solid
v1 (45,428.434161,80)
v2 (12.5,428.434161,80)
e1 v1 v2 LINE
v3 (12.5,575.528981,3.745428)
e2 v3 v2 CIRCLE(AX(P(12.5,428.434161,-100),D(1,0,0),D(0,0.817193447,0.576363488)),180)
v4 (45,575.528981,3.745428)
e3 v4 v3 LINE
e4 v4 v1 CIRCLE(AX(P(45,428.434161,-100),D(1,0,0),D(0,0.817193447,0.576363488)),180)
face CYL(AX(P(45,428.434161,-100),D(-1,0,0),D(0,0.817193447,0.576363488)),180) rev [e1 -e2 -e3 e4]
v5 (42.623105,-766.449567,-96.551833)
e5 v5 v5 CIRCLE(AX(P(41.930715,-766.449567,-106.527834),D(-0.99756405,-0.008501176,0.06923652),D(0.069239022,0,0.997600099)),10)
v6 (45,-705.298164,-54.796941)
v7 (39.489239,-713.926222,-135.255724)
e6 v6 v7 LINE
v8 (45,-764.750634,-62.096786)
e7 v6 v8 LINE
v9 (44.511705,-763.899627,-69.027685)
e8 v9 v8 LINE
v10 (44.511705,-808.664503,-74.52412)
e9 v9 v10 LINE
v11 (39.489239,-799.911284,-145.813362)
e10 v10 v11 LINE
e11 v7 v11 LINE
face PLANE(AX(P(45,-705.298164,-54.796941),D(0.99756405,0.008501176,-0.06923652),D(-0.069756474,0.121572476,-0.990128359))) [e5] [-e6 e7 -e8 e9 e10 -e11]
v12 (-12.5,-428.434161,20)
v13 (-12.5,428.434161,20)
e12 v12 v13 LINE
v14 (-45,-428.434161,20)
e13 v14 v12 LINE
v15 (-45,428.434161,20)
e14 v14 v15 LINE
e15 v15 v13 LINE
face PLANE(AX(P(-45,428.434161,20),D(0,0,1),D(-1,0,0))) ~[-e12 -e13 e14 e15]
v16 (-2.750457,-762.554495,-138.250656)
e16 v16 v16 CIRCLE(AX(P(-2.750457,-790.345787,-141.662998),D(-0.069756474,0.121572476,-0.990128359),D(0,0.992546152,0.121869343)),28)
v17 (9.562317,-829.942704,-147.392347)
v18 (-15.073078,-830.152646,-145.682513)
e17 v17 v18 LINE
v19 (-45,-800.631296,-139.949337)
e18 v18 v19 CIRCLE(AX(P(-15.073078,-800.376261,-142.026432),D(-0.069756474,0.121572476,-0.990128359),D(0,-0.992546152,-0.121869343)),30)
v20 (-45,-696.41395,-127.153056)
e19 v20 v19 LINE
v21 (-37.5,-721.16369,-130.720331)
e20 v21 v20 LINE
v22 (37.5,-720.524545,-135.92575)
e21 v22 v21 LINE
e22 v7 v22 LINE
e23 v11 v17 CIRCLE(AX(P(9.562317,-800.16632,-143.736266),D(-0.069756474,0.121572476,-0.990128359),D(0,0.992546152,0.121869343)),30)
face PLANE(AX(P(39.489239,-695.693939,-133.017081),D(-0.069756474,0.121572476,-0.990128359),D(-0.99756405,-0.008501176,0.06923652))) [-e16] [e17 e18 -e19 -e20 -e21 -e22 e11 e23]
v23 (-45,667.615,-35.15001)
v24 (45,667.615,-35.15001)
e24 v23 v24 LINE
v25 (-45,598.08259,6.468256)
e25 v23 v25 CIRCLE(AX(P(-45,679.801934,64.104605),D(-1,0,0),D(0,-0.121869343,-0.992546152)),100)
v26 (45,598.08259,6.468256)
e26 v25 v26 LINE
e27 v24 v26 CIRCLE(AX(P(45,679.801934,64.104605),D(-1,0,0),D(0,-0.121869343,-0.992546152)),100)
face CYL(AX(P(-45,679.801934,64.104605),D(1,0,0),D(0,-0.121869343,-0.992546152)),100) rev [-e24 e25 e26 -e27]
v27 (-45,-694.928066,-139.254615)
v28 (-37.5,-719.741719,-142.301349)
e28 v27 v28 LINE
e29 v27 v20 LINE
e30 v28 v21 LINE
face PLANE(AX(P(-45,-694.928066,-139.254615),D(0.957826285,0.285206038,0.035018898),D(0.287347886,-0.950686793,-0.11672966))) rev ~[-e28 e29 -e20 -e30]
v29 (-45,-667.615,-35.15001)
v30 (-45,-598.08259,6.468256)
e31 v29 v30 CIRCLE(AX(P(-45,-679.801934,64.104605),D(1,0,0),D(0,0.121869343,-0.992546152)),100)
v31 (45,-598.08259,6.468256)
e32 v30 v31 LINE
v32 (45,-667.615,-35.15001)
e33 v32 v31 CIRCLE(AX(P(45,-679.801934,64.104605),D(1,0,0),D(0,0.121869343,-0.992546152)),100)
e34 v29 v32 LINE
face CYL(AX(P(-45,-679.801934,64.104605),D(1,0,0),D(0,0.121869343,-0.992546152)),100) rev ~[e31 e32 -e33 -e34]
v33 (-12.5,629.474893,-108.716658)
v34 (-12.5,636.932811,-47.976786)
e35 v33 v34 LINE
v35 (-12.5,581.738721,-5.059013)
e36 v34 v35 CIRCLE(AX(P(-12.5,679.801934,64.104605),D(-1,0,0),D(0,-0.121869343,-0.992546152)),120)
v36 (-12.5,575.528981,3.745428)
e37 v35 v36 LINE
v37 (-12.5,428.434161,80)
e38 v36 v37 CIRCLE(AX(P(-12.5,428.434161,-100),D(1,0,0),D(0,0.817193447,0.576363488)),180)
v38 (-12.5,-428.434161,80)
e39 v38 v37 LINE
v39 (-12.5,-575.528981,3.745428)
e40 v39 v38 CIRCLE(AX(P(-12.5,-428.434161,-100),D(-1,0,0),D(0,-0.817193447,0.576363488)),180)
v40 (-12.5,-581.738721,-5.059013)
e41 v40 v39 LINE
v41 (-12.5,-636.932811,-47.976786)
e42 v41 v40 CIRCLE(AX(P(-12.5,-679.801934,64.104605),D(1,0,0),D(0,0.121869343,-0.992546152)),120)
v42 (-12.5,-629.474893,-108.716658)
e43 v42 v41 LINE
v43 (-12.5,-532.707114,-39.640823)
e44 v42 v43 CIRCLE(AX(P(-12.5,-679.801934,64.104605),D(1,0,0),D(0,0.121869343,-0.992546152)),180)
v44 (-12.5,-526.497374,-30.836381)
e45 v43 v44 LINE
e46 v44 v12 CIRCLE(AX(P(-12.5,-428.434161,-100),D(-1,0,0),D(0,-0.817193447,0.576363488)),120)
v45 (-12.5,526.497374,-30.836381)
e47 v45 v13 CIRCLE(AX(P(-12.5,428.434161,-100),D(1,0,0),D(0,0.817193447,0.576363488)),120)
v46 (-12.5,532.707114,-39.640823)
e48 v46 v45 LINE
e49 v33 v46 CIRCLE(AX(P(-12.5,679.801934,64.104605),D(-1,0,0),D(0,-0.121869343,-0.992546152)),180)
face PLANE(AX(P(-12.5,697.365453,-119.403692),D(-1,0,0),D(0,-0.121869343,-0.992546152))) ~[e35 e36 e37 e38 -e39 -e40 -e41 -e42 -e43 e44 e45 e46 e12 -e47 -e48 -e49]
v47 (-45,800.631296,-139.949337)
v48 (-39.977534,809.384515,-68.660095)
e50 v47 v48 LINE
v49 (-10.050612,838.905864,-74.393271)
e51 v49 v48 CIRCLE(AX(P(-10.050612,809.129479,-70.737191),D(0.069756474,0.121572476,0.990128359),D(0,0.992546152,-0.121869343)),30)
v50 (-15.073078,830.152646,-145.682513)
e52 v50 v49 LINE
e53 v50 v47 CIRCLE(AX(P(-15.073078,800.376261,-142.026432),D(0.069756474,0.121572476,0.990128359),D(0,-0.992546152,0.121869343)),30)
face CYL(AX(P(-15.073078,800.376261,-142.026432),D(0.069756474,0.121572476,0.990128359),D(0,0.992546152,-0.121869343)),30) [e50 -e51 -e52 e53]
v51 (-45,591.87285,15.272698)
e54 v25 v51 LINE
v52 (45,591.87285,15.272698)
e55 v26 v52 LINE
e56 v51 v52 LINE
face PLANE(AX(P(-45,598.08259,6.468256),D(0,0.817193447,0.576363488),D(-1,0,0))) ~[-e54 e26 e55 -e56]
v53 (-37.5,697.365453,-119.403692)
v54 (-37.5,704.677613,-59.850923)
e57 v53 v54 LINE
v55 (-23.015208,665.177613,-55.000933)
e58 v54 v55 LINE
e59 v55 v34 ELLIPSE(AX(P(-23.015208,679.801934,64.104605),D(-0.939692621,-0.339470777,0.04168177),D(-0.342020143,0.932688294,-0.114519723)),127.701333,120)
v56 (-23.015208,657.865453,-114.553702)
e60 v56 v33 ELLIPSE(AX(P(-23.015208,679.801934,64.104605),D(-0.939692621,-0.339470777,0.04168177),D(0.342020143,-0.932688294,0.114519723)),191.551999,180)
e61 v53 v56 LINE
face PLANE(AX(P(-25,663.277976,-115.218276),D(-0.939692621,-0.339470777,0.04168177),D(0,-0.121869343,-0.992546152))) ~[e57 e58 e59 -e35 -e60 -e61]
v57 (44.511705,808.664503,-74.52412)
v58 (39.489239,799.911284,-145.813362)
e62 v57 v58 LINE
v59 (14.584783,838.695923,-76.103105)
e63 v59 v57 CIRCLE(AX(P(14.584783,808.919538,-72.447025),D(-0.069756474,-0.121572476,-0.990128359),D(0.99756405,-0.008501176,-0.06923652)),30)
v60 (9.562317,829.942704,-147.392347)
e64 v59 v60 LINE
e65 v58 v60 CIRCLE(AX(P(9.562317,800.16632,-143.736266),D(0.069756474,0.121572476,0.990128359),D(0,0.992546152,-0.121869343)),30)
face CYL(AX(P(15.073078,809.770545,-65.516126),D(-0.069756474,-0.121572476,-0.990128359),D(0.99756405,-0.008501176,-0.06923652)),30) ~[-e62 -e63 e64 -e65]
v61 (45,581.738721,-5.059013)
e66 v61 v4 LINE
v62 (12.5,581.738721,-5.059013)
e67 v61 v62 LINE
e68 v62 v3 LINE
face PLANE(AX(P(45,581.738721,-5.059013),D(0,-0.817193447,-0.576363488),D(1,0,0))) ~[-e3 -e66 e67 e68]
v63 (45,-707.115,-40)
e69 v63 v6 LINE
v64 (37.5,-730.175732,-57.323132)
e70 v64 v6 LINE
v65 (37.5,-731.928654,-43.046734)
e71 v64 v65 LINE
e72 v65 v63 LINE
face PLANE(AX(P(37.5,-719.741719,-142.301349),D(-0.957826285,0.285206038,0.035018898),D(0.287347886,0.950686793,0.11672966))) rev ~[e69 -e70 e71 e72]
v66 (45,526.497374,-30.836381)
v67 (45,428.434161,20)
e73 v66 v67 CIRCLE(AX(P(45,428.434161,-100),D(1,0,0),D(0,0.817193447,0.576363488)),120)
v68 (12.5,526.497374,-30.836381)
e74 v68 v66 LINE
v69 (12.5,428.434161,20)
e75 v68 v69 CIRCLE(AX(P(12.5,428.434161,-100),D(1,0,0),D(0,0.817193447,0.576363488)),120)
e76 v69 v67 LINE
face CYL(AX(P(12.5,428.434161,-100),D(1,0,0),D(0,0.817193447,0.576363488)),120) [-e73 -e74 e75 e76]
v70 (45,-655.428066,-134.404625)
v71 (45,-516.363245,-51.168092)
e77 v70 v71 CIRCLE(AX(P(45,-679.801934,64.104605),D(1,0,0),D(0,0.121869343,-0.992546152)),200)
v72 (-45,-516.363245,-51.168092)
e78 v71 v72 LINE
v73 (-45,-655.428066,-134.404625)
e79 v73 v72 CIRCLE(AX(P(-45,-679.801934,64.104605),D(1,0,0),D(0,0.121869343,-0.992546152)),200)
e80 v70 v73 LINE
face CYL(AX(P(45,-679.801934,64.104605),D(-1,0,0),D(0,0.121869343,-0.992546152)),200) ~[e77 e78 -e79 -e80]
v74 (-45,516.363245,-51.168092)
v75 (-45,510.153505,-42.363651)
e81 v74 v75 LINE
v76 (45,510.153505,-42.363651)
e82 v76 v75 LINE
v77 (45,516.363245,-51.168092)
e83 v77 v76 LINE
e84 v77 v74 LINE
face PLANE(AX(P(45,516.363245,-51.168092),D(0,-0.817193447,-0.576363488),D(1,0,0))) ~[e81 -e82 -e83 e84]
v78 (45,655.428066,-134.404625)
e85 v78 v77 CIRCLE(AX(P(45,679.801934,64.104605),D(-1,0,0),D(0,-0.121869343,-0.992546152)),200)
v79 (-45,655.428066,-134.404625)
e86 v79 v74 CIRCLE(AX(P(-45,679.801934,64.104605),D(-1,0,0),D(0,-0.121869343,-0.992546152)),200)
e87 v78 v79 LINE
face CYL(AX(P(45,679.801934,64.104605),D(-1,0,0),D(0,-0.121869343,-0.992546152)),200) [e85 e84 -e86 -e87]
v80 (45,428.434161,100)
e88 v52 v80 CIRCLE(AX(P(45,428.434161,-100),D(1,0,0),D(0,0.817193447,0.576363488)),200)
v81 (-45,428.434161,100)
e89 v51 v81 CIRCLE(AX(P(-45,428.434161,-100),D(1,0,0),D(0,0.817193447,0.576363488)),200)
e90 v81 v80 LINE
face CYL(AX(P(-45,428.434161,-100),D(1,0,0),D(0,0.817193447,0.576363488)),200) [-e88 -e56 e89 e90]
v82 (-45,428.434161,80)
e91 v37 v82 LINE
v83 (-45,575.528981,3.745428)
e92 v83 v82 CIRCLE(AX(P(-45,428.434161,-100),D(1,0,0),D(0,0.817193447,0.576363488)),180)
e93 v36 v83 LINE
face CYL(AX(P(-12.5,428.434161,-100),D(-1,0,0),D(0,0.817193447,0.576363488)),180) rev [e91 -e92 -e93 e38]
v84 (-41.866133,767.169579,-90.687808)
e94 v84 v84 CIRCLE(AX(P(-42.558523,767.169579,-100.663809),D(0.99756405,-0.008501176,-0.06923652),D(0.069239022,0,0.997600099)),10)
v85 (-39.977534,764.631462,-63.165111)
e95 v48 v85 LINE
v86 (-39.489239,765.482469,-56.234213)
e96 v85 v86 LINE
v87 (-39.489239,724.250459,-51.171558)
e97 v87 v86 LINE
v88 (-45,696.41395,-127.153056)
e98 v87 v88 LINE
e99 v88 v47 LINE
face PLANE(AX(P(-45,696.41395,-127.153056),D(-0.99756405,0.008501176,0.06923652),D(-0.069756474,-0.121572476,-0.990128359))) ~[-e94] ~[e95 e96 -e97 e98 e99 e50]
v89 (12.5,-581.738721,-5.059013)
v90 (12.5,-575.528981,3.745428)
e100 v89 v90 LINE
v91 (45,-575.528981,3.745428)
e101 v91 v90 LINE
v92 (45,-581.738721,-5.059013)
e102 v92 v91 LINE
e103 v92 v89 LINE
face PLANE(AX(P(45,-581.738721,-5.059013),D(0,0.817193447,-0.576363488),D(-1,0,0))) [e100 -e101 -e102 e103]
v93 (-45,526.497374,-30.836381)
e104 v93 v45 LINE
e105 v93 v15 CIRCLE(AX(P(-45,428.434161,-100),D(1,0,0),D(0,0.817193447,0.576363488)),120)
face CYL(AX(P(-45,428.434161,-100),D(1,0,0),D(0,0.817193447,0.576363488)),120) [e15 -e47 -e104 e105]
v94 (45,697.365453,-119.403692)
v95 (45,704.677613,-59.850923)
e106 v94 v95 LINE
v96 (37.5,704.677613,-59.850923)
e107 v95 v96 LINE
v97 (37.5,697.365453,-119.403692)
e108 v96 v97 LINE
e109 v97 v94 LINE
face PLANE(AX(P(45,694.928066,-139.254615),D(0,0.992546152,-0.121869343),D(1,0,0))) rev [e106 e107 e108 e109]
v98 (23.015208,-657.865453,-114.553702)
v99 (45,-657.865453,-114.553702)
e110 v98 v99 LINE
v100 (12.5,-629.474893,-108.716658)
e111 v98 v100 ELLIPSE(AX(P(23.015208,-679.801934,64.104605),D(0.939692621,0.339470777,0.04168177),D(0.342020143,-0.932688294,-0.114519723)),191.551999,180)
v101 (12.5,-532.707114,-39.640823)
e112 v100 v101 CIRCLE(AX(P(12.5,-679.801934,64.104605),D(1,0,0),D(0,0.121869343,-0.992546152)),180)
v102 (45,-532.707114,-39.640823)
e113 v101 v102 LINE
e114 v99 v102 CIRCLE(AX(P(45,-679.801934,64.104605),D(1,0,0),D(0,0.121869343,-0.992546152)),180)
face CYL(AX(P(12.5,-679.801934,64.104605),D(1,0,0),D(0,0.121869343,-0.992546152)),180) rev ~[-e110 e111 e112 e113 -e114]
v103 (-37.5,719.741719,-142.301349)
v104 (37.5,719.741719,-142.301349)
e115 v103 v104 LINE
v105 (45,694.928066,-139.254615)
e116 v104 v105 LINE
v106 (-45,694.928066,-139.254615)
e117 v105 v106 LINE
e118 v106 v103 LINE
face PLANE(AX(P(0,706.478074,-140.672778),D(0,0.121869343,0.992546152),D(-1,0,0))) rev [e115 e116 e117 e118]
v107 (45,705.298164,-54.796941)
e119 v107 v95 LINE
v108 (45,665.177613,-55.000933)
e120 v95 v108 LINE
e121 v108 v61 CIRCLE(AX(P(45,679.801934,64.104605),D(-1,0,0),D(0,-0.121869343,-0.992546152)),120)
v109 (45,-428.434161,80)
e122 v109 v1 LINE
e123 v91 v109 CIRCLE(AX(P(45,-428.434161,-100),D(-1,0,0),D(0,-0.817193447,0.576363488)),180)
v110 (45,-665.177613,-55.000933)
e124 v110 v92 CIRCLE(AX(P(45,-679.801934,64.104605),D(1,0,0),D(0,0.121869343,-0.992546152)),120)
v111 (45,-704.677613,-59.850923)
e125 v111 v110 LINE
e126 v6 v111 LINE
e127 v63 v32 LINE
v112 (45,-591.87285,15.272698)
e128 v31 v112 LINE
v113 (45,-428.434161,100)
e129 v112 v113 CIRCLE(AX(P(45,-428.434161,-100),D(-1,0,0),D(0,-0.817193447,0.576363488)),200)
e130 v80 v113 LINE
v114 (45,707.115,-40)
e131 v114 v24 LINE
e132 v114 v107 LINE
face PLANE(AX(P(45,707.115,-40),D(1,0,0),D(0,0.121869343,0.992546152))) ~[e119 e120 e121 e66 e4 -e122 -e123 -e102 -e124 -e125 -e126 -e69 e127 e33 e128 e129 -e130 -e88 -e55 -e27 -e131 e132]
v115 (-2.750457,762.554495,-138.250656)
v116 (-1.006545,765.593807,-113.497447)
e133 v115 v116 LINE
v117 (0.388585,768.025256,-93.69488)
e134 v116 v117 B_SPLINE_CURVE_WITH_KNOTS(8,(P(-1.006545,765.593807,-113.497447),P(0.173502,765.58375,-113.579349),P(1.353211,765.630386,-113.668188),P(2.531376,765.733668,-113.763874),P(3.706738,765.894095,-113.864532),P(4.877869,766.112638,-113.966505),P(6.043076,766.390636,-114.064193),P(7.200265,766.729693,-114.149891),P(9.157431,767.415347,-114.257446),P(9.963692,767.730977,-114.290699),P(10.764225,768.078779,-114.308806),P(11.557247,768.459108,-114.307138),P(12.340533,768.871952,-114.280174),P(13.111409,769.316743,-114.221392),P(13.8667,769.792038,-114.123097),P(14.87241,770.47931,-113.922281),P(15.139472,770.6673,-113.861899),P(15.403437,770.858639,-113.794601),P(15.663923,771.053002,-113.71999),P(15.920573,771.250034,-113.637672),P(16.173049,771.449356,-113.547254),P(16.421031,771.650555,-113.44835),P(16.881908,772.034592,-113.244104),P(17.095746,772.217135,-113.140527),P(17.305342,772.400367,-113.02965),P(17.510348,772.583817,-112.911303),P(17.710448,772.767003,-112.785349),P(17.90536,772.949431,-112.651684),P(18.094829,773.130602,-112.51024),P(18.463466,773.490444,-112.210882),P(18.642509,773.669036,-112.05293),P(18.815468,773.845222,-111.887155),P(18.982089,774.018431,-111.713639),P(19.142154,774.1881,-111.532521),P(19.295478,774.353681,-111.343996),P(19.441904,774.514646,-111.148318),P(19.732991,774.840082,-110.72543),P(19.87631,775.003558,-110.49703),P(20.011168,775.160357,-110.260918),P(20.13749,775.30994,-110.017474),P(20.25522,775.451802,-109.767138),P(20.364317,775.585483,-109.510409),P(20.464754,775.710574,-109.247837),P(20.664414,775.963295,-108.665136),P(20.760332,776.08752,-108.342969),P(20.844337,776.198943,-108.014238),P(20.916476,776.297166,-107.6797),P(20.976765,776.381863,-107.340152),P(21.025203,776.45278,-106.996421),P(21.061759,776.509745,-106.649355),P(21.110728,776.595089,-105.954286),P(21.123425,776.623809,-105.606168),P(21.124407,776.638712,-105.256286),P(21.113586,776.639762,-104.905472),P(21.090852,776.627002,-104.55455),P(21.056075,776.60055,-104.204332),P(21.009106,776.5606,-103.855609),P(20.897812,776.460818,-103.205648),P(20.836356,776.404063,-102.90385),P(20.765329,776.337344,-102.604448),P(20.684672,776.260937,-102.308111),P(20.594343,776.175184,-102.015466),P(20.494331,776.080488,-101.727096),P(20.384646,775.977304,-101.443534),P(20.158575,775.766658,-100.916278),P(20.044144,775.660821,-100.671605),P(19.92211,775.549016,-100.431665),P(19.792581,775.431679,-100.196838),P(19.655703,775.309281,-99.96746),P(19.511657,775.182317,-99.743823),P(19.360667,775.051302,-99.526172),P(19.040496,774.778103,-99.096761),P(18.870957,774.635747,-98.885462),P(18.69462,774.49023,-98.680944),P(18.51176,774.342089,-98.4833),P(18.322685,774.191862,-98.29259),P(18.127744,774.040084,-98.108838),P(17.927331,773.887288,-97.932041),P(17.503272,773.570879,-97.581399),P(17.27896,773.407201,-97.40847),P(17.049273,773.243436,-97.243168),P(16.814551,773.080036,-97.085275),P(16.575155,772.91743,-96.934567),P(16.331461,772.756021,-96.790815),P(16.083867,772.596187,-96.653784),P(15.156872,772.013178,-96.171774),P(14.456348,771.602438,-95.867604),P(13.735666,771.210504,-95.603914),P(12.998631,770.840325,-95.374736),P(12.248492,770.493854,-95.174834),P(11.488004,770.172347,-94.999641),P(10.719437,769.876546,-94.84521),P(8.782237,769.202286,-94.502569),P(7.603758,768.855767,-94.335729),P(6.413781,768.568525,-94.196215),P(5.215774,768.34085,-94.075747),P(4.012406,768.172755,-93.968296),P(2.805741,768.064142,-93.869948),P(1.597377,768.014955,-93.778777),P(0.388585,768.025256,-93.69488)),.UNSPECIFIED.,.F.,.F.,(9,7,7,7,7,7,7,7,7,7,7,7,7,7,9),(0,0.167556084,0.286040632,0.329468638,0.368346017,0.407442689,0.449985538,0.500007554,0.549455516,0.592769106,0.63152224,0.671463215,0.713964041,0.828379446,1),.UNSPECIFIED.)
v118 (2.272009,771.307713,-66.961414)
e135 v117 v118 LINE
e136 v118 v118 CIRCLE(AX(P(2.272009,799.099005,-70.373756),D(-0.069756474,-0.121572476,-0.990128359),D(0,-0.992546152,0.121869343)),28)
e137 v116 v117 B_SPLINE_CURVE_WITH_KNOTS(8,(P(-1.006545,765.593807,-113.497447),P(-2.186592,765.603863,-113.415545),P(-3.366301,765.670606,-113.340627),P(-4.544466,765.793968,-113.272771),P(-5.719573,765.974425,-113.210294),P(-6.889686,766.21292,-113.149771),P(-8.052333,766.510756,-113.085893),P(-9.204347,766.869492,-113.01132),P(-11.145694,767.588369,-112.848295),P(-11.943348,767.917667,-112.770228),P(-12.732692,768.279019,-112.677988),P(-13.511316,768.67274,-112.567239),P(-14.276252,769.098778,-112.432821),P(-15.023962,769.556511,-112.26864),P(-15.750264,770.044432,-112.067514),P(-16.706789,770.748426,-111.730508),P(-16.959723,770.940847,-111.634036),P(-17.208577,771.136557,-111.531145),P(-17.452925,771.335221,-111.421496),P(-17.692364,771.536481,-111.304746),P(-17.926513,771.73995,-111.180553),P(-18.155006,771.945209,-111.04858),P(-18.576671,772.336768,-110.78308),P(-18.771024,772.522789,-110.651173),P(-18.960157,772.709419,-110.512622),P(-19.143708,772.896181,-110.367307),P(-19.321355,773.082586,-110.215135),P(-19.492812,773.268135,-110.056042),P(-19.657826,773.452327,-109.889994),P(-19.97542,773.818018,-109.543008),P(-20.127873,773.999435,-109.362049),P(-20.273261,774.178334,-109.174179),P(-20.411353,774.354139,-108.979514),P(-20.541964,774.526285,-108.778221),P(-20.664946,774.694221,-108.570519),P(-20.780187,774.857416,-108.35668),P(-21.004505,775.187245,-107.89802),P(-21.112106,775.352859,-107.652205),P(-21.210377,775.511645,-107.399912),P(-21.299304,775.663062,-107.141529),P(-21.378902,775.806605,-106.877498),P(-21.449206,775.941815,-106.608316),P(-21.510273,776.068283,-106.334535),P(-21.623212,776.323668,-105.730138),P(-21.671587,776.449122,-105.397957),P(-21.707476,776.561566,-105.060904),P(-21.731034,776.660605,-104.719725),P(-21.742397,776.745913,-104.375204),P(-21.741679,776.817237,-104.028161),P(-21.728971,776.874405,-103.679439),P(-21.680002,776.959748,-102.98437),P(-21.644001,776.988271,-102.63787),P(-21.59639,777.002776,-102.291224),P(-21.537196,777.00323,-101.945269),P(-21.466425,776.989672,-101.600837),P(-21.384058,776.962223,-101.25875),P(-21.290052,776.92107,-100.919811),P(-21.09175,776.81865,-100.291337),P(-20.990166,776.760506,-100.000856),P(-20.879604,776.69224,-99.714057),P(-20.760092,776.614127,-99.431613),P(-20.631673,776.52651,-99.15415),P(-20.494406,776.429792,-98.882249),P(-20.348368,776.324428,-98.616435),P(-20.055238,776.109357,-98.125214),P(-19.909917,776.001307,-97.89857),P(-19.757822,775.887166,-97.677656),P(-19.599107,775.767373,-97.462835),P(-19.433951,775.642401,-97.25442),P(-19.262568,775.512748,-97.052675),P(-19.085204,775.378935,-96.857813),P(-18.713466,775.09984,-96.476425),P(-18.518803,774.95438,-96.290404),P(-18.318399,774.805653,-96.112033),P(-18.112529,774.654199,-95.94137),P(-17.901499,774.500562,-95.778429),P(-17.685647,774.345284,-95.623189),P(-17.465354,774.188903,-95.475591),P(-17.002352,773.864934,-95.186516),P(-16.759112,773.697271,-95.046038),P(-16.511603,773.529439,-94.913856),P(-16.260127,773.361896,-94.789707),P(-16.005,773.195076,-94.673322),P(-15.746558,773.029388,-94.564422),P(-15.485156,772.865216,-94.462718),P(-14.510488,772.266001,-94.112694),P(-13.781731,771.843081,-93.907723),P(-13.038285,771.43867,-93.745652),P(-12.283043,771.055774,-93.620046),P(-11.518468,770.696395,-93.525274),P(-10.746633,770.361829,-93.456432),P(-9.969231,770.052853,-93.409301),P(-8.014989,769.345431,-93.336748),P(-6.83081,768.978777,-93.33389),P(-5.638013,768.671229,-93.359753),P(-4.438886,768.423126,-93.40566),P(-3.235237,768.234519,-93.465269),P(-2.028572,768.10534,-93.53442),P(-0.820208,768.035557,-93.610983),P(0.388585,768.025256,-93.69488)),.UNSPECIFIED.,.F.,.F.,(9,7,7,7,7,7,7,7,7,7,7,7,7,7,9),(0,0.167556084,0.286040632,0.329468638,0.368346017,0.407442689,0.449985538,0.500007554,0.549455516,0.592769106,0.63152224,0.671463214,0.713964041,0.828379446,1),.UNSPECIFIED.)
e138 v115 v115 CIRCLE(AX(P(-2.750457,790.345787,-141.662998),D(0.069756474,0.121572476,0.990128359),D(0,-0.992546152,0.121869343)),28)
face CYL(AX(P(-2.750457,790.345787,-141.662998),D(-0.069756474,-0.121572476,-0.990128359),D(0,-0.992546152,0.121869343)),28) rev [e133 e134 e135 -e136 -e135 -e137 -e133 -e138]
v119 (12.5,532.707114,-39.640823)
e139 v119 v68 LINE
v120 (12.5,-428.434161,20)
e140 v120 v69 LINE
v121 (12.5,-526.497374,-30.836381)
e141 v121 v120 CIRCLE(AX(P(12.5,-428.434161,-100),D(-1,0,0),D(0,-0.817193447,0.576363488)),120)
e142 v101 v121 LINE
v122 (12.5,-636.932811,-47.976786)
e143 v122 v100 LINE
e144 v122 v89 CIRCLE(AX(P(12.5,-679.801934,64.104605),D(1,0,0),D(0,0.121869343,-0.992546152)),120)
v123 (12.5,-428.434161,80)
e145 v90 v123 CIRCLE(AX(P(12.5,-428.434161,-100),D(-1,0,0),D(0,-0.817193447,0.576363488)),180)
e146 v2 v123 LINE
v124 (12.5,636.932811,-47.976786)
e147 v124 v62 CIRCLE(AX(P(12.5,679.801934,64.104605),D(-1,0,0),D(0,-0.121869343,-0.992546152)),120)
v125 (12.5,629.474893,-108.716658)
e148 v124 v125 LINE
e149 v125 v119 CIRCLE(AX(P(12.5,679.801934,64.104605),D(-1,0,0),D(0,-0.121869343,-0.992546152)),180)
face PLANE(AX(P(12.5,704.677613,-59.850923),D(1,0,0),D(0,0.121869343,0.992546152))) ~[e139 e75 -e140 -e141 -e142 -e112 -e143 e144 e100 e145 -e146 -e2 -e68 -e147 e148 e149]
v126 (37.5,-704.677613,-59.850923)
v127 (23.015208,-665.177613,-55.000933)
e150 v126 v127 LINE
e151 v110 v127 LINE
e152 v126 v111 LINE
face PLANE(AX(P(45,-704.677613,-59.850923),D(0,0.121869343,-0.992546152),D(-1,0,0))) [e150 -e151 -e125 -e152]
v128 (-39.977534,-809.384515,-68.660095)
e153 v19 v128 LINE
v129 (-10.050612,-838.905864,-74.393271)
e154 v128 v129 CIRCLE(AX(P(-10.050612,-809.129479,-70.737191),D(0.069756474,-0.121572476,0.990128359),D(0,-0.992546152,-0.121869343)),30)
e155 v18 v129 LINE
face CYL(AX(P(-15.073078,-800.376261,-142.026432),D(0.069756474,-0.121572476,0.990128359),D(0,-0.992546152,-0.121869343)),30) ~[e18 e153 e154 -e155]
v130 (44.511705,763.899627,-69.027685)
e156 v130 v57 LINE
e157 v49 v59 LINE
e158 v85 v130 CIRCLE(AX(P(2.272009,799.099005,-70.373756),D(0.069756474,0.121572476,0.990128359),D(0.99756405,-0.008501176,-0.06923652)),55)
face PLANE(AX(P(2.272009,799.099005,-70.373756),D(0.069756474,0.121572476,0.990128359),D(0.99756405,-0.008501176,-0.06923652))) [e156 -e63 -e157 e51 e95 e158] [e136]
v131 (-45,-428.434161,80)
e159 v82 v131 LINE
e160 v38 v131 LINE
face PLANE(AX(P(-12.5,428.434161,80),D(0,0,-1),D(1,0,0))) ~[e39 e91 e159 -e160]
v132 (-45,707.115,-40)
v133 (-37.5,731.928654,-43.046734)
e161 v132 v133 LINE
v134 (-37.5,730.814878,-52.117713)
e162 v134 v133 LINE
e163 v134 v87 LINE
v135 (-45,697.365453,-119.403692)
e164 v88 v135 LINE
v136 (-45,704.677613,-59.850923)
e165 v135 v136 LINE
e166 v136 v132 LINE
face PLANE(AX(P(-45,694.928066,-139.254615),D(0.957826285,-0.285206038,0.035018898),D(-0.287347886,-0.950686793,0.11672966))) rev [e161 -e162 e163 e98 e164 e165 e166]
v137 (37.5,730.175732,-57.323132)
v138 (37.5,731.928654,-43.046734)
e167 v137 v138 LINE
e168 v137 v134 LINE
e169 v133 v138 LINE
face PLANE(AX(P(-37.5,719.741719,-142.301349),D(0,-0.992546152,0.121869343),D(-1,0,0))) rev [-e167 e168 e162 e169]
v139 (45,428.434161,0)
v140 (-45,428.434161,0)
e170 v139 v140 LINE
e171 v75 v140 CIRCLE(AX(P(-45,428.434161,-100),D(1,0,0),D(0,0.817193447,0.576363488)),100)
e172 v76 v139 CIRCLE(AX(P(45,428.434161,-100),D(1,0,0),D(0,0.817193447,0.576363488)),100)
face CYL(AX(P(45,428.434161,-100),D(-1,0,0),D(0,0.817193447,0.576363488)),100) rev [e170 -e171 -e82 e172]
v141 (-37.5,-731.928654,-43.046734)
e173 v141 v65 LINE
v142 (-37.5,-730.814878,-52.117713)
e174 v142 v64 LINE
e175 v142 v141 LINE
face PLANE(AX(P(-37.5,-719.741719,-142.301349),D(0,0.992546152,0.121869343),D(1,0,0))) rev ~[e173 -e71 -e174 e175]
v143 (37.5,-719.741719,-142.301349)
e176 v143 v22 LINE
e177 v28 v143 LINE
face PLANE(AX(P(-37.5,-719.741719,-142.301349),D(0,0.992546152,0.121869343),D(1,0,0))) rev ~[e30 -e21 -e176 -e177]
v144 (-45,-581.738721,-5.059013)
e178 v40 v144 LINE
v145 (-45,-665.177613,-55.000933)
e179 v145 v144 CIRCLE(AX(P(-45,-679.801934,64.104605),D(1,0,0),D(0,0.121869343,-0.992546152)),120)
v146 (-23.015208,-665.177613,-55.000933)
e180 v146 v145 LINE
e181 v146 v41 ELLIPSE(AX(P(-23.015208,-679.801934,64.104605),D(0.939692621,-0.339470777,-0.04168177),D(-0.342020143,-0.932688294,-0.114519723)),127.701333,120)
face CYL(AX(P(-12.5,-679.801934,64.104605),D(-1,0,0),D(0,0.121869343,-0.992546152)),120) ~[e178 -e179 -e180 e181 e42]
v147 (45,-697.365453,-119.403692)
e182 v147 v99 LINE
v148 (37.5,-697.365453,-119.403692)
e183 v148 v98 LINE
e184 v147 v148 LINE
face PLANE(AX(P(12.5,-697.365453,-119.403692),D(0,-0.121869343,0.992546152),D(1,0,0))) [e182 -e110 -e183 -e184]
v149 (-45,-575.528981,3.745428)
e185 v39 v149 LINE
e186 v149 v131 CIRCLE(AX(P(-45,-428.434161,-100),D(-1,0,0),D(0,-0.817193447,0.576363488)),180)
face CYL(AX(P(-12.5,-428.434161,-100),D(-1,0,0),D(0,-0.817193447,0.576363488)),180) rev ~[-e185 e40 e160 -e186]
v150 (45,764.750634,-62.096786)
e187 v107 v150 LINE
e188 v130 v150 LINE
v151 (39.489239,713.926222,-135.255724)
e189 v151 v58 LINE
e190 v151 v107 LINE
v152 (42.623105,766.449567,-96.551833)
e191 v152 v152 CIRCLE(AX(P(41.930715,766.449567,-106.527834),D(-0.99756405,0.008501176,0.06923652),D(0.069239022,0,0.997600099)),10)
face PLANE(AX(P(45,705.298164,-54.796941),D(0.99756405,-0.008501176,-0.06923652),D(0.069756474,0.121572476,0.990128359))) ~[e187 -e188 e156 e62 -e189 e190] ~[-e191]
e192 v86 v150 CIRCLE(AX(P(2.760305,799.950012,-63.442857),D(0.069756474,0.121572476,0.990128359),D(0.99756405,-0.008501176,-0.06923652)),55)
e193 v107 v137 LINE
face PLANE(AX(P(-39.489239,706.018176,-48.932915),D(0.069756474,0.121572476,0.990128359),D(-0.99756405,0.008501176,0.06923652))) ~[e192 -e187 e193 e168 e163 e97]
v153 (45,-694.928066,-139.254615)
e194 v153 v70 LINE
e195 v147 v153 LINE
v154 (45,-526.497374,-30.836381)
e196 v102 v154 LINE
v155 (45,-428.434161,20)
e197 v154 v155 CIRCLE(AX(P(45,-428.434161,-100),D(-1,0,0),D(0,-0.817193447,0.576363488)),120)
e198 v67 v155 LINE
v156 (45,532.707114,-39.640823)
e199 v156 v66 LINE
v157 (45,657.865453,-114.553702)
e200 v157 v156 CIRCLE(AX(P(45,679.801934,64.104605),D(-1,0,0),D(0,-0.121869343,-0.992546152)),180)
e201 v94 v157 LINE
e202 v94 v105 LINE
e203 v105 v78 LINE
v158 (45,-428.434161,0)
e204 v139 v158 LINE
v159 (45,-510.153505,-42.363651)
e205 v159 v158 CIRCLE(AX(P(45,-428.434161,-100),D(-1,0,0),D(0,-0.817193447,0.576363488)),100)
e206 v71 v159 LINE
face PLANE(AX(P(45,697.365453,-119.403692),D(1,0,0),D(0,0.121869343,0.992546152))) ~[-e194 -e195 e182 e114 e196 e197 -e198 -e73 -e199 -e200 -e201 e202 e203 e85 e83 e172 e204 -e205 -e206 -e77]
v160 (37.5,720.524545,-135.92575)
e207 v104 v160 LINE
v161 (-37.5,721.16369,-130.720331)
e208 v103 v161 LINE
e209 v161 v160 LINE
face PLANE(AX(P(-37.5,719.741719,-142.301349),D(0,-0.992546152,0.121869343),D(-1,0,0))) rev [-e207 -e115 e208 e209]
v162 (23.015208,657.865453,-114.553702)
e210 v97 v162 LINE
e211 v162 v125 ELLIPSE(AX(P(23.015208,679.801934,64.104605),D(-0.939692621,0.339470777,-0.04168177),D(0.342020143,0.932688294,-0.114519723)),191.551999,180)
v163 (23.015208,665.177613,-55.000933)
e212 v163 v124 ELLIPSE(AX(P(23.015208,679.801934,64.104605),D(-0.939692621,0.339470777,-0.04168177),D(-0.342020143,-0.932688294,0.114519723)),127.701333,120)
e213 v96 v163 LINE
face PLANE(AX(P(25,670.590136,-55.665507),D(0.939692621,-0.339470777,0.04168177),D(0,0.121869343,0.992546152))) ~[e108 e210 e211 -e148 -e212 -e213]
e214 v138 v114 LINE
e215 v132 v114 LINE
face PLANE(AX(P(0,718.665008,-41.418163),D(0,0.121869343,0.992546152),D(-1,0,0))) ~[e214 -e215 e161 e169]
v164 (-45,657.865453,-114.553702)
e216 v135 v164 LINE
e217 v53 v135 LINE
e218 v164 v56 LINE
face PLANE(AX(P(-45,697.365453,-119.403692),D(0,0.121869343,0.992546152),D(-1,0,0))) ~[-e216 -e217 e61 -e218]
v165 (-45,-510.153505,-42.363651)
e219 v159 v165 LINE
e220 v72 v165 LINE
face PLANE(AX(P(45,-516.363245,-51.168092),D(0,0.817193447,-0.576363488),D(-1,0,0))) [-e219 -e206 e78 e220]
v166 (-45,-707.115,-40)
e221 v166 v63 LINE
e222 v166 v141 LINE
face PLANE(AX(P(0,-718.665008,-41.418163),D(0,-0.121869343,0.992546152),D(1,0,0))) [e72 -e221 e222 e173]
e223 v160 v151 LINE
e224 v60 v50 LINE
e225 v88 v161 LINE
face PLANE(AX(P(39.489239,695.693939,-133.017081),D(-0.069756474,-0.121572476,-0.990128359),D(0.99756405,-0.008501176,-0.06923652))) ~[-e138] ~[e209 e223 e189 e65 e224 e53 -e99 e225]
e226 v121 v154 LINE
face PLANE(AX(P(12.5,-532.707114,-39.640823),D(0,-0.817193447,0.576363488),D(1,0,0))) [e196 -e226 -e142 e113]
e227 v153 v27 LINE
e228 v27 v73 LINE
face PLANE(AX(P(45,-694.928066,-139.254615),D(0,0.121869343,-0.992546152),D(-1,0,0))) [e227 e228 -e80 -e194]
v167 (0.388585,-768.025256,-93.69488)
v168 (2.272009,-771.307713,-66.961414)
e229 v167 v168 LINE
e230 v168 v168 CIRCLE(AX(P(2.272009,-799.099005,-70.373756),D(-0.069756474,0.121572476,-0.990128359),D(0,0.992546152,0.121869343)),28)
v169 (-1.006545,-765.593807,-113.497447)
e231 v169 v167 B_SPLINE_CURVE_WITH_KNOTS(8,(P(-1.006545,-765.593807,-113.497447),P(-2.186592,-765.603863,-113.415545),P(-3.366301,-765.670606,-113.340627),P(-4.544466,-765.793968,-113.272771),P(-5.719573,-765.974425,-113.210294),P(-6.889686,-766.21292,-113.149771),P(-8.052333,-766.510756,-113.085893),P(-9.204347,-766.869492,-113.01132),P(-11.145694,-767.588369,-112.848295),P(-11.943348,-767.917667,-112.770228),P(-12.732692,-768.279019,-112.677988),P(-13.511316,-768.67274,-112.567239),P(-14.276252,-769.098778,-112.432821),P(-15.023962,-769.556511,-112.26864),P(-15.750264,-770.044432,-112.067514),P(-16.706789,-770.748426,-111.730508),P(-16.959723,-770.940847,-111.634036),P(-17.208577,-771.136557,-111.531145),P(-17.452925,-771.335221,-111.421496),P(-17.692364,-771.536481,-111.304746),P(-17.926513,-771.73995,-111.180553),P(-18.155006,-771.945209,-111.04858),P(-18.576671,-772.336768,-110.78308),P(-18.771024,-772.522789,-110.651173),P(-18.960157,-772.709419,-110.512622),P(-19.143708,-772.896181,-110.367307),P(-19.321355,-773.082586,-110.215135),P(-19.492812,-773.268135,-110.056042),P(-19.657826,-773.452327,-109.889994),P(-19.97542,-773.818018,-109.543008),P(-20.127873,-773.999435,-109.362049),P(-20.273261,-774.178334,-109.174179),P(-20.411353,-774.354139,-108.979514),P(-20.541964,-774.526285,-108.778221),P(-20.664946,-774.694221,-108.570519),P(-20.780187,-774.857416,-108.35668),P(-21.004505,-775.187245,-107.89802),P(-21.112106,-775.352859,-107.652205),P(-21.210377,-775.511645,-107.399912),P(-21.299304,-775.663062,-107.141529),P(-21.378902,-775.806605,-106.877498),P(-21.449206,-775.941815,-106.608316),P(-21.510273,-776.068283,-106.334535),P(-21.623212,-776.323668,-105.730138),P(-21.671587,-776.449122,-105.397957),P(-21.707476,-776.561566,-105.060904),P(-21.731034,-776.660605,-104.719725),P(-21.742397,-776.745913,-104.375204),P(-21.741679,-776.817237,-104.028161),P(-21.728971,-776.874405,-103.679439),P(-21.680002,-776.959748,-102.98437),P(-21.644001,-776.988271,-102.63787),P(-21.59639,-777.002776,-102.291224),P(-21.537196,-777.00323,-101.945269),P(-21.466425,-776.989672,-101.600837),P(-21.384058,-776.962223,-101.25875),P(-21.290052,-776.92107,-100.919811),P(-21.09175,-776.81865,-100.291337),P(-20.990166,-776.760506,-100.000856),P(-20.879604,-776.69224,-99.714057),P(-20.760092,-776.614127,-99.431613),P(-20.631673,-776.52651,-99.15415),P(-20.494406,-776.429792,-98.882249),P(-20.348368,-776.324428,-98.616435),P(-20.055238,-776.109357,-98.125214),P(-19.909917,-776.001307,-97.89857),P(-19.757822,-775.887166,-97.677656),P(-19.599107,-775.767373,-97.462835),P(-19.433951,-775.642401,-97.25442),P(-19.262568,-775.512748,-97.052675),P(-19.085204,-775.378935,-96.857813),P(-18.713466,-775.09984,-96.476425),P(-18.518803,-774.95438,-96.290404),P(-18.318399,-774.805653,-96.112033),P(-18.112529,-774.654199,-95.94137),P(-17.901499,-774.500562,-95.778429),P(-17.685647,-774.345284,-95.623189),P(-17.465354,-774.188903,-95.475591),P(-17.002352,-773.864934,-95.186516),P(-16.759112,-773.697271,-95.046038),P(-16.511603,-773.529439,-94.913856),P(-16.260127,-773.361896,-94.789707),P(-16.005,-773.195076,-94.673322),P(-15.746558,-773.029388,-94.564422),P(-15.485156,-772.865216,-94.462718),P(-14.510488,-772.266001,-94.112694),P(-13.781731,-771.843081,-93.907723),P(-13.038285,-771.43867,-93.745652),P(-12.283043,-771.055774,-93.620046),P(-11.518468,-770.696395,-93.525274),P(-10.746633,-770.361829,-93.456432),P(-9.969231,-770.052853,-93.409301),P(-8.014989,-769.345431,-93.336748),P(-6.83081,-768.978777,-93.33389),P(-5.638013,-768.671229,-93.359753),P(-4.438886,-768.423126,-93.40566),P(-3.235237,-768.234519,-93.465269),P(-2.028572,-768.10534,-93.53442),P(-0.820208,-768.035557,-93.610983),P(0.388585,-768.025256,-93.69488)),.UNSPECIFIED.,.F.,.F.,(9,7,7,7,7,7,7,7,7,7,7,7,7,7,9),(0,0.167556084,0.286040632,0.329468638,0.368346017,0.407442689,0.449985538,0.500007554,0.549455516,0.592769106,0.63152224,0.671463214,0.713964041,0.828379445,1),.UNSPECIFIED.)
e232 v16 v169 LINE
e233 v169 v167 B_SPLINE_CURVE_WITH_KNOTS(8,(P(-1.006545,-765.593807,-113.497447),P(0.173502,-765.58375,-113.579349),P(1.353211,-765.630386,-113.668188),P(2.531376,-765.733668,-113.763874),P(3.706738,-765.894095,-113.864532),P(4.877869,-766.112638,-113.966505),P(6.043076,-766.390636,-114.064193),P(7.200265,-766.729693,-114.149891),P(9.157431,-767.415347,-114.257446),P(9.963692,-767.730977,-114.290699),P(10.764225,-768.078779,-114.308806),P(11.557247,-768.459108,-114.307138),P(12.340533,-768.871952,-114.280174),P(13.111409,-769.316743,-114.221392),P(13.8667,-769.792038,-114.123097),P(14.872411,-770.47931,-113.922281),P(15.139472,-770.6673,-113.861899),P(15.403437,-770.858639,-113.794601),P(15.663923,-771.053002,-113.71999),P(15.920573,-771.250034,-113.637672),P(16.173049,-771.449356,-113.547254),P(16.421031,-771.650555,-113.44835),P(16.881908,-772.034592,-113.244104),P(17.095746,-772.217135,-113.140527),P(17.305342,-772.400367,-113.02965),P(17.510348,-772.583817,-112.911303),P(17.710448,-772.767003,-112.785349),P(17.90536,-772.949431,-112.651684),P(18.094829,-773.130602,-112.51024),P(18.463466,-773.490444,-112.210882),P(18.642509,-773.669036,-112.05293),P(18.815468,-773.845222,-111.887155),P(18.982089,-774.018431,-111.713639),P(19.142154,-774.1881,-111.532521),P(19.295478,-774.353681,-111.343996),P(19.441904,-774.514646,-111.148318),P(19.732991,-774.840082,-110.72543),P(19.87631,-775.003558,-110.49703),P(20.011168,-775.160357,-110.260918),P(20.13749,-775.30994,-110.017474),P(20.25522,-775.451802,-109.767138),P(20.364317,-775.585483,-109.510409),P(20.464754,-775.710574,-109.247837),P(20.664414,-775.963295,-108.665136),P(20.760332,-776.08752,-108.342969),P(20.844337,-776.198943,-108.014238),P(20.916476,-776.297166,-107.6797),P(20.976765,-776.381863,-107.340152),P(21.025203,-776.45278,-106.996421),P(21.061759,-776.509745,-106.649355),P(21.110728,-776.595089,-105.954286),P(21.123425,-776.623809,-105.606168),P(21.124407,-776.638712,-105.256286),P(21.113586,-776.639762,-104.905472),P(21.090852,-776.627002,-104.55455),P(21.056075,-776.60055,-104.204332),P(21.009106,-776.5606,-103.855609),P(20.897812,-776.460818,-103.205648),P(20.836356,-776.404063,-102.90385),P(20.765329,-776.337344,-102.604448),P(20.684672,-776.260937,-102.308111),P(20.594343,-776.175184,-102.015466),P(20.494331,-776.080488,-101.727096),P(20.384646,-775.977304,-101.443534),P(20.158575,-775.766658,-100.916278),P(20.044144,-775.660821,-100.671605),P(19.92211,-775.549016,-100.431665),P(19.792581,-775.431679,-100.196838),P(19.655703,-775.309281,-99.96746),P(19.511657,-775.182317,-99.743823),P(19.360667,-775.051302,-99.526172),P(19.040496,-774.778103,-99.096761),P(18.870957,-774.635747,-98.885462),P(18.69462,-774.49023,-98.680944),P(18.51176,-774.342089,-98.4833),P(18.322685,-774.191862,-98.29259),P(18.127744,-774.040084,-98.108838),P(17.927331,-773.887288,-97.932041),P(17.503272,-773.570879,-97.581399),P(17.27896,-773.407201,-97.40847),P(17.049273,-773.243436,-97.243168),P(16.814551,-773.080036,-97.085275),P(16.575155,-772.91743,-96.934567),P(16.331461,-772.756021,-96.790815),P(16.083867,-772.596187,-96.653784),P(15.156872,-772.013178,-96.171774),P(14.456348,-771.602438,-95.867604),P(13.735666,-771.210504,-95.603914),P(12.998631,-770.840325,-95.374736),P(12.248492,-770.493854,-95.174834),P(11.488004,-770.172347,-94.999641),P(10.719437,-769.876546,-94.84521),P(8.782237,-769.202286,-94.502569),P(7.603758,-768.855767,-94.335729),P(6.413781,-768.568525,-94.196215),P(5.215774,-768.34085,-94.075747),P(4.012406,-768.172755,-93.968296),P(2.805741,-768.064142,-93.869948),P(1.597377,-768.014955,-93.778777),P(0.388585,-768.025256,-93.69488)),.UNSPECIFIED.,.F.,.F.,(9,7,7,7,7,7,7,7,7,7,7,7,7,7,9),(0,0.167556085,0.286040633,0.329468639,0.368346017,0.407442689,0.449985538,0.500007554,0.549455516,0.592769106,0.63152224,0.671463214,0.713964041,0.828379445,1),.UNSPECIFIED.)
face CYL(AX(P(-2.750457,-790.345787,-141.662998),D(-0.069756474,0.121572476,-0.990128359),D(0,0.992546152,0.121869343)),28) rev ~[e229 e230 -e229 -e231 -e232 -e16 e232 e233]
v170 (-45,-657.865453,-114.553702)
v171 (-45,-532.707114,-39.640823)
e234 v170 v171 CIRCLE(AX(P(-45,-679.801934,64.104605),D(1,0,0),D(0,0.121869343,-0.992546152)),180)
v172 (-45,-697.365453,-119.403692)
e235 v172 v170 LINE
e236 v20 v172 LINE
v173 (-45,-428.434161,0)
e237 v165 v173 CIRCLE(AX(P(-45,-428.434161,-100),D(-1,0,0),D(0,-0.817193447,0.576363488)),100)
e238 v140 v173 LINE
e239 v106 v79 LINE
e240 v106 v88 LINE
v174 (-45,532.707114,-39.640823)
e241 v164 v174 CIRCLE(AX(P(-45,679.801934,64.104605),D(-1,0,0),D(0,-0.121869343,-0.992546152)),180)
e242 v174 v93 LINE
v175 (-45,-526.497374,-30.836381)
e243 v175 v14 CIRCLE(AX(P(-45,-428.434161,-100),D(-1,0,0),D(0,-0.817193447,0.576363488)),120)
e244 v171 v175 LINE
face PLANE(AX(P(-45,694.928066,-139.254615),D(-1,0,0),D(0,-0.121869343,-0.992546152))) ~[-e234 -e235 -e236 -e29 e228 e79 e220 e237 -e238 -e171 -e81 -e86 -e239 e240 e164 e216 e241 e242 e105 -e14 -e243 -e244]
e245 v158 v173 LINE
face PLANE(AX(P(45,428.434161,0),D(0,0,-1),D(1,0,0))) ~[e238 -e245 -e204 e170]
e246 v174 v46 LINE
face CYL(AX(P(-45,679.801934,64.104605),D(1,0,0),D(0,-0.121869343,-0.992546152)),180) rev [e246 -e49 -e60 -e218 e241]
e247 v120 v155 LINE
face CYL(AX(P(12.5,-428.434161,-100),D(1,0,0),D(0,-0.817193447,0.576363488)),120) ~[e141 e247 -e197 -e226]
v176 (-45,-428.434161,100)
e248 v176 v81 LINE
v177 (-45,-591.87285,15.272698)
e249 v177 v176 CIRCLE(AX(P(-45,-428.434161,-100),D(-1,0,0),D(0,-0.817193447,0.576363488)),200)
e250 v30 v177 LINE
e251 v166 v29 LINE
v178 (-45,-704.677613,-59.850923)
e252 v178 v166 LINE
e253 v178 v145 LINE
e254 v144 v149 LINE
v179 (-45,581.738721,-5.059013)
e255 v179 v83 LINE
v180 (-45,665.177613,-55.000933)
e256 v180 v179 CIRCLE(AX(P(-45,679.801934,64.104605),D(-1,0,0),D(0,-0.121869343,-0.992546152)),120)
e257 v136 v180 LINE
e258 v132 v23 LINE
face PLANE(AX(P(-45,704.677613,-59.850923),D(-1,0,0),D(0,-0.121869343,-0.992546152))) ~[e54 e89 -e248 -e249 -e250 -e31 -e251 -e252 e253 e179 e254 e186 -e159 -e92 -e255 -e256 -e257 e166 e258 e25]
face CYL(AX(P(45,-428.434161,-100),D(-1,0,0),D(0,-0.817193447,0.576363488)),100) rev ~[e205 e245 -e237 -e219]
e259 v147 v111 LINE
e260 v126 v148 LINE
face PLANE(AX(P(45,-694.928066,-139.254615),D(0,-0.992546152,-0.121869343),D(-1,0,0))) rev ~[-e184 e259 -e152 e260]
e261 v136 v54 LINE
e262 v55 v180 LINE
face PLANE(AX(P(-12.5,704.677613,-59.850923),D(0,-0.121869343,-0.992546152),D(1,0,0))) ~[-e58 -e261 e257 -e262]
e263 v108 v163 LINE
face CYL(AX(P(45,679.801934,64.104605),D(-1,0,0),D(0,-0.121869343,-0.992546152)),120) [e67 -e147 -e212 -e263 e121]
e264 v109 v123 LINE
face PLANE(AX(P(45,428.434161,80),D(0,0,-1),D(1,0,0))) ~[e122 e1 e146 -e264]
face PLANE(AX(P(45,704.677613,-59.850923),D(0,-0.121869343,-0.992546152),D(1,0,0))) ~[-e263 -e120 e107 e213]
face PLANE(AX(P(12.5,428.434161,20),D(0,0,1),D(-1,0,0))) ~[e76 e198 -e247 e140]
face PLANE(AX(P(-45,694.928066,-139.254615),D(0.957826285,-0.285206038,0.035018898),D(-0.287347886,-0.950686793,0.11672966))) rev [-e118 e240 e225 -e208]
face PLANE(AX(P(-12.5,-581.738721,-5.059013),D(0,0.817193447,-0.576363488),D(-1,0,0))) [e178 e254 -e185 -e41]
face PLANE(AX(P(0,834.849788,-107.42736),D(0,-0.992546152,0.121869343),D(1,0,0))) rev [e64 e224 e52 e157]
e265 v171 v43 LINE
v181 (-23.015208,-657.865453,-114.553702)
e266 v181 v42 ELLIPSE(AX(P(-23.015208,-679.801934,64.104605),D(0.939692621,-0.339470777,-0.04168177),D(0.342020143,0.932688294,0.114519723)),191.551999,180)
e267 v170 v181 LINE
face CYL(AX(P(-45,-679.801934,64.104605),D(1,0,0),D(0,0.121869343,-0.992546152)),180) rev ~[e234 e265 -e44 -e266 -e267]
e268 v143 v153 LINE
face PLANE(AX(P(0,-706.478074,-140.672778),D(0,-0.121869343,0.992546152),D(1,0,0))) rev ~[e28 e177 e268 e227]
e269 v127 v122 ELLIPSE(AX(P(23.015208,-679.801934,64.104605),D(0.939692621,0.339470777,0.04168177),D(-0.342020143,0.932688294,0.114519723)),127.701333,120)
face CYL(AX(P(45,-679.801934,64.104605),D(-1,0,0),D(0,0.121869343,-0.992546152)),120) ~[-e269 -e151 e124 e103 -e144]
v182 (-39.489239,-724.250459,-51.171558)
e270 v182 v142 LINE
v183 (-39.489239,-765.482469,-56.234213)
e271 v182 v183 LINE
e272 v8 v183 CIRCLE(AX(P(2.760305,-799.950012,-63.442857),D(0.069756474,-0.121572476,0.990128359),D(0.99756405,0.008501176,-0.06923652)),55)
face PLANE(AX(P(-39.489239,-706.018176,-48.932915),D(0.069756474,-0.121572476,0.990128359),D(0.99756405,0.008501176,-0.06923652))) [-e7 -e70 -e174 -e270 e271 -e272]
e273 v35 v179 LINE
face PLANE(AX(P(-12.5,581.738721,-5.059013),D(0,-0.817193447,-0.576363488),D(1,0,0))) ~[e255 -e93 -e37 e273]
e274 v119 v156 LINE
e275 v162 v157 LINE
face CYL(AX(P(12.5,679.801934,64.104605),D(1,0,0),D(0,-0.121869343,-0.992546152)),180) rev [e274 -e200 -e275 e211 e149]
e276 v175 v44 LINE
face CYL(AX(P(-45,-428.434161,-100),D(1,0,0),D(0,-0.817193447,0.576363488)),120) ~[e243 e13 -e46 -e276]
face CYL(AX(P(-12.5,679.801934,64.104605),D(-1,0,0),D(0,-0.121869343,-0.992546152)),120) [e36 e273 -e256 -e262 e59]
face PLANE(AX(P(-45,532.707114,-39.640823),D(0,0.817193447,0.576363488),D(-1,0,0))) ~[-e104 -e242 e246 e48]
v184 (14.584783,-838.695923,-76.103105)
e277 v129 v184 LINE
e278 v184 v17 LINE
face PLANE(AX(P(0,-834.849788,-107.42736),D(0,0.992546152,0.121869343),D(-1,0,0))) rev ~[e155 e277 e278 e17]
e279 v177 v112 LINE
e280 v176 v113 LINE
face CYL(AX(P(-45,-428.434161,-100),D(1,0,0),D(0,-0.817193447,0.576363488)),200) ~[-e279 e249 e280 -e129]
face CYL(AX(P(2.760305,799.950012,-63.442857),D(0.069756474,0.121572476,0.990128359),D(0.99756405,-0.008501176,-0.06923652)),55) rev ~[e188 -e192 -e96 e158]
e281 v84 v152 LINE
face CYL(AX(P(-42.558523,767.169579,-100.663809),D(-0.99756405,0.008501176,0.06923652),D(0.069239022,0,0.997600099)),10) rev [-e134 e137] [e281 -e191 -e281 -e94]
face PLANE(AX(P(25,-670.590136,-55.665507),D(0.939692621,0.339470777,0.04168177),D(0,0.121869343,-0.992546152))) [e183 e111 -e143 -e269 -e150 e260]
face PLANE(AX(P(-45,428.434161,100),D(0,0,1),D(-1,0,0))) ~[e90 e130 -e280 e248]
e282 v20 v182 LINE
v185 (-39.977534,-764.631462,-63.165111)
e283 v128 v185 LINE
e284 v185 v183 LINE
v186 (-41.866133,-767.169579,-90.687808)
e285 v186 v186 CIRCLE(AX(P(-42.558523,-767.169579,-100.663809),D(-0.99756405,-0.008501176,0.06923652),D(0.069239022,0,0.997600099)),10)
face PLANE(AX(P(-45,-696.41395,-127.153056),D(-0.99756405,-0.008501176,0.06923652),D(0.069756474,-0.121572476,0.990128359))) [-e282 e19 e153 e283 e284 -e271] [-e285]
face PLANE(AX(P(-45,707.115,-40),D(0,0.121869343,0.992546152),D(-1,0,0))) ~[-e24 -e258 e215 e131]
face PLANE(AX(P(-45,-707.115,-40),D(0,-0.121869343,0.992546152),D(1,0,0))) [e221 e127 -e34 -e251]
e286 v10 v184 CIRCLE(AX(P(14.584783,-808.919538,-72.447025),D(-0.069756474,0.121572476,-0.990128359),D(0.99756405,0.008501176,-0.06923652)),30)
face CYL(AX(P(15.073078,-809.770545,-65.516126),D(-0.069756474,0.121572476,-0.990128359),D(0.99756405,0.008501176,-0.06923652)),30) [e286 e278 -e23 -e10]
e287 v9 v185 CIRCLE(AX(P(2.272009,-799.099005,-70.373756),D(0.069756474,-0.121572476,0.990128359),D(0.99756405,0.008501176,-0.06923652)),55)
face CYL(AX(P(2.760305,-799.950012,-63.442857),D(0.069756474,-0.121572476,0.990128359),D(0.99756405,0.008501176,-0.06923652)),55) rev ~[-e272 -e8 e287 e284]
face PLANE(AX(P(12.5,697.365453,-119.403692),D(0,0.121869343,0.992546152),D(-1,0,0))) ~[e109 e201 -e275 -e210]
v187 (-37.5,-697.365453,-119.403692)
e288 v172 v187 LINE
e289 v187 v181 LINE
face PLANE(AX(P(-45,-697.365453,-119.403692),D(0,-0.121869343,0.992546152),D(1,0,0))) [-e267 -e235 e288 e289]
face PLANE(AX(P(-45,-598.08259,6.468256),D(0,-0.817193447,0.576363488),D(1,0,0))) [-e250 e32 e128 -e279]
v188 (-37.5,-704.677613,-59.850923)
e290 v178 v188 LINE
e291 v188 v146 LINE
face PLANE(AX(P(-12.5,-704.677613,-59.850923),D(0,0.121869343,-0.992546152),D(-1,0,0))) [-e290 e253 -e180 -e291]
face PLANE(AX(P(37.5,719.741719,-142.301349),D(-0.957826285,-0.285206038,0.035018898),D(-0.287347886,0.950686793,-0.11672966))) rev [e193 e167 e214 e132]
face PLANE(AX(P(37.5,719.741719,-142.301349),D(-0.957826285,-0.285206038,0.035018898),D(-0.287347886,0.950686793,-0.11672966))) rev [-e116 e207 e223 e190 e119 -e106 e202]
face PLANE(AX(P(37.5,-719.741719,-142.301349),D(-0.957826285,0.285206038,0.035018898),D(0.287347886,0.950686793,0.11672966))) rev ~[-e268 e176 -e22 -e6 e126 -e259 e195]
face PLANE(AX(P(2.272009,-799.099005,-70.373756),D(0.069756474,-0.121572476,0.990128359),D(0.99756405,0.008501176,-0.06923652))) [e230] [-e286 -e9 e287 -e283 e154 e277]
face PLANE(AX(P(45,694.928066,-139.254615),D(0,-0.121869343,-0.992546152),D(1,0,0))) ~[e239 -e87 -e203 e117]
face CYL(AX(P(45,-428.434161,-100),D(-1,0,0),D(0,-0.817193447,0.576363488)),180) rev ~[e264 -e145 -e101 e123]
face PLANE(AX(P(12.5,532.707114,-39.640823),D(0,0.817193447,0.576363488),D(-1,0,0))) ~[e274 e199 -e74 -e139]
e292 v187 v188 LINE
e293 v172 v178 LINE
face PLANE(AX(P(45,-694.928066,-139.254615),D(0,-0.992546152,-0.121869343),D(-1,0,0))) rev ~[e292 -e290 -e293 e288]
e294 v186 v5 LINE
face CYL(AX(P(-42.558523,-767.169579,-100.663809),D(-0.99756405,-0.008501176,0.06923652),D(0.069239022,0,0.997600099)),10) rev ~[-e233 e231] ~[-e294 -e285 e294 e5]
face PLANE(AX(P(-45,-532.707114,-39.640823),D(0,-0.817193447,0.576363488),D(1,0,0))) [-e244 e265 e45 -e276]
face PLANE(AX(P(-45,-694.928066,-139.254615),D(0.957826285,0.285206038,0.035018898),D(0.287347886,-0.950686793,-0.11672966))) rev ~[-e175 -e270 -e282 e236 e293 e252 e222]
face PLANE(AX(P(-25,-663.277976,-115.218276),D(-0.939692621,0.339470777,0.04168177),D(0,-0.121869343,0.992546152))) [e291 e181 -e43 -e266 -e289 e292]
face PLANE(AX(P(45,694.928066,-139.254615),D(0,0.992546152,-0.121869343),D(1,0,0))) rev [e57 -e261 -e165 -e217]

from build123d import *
from OCP.BRepFilletAPI import BRepFilletAPI_MakeChamfer

# Parameters (mm, degrees)
BOSS_EXTRUDE3_DEPTH       = 100
BOSS_EXTRUDE4_START       = -25
BOSS_EXTRUDE4_DEPTH       = 135
FILLET2_R                 = 30
SKETCH8_R                 = 28
CUT_EXTRUDE2_DEPTH        = 85
CHAMFER2_SIZE             = 25
CHAMFER2_SIZE2            = 68.686935486
SKETCH9_R                 = 10
CUT_EXTRUDE3_DEPTH        = 858.264154976
FILLET2_OF_MIRROR1_R      = 30
CHAMFER2_OF_MIRROR1_SIZE  = 25
CHAMFER2_OF_MIRROR1_SIZE2 = 68.686935486
SKETCH10_R                = 55
CUT_EXTRUDE4_DEPTH        = 7
SKETCH11_R                = 55
CUT_EXTRUDE5_DEPTH        = 7


with BuildPart() as part:
    # Sweep3: sweep along a path in Sketch2
    with BuildLine(Plane(origin=(0, 0, 0), x_dir=(0, 0, -1), z_dir=(1, 0, 0))) as sweep3_path:
        Line((40, -707.115), (35.150009844, -667.615))
        ThreePointArc((35.150009844, -667.615), (21.699722473, -628.444195566), (-6.468256478, -598.082589677))
        Line((-6.468256478, -598.082589677), (-15.272697684, -591.87285015))
        ThreePointArc((-15.272697684, -591.87285015), (-77.559200743, -520.481595506), (-100, -428.434160824))
        Line((-100, -428.434160824), (-100, -372.115))
        Line((-100, -372.115), (-100, 0))
    # Sketch1 → Sweep3 (sweep)
    with BuildSketch(Plane(origin=(0, 0, 0), x_dir=(1, 0, 0), z_dir=(0, 1, 0))):
        Polygon((-45, 0), (-45, -20), (-12.5, -20), (-12.5, -80), (-45, -80), (-45, -100), (45, -100), (45, -80), (12.5, -80), (12.5, -20), (45, -20), (45, 0), align=None)
    sweep3 = sweep(path=sweep3_path.line)

    # Sketch6 → Boss-Extrude3 (add)
    with BuildSketch(Plane(origin=(0, 6.523203495, -53.127229086), x_dir=(-1, 0, 0), z_dir=(0, 0.12186934340514098, -0.992546151641323))):
        Polygon((-45, -706.719045754), (45, -706.719045754), (37.5, -731.719045754), (-37.5, -731.719045754), align=None)
    boss_extrude3 = extrude(amount=-BOSS_EXTRUDE3_DEPTH)

    # Sketch7 → Boss-Extrude4 (add)
    with BuildSketch(Plane(origin=(0, -726.264922946, -89.174119663), x_dir=(1, 0, 0), z_dir=(0, -0.992546151641323, -0.12186934340514098)).offset(BOSS_EXTRUDE4_START)):
        Polygon((-39.489238574, 37.473794696), (45, 31.565731599), (39.489238574, -47.241828371), (-45, -41.333765274), align=None)
    boss_extrude4 = extrude(amount=BOSS_EXTRUDE4_DEPTH)

    # Fillet2
    fillet2_edges = [part.edges().sort_by_distance(p)[0] for p in [
        (-42.244619287, -835.209793586, -104.495346909),
        (42.244619287, -834.489781816, -110.3593722),
    ]]
    fillet(fillet2_edges, radius=FILLET2_R)

    # Sketch8 → Cut-Extrude2 (cut)
    with BuildSketch(Plane(origin=(-3.095242597, 5.394428439, -43.934093987), x_dir=(-0.9975640426646005, -0.00837869546975235, 0.06925155770727769), z_dir=(-0.06975647374412558, 0.12157247580973782, -0.9901283591011198))):
        with Locations(Location((-0.444559855, -801.718997, 0), (0, 0, 89.992929705))):
            Circle(SKETCH8_R)
    cut_extrude2 = extrude(amount=-CUT_EXTRUDE2_DEPTH, mode=Mode.SUBTRACT)

    # Chamfer2: one chamfer whose edges measure the first distance from different faces: ONE call of the kernel's chamfer builder (chamfer() names one face for all edges)
    chamfer2_edges_1 = [part.edges().sort_by_distance(p)[0] for p in [
        (12.5, -701.02153283, -89.627307582),
    ]]
    chamfer2_side_1 = [part.faces().sort_by_distance(p)[0] for p in [
        (28.75, -701.02153283, -89.627307582),
    ]]
    chamfer2_edges_2 = [part.edges().sort_by_distance(p)[0] for p in [
        (-12.5, -701.02153283, -89.627307582),
    ]]
    chamfer2_side_2 = [part.faces().sort_by_distance(p)[0] for p in [
        (-28.75, -701.02153283, -89.627307582),
    ]]
    chamfer2 = BRepFilletAPI_MakeChamfer(part.part.solid().wrapped)
    for e in chamfer2_edges_1:
        chamfer2.Add(CHAMFER2_SIZE, CHAMFER2_SIZE2, e.wrapped, chamfer2_side_1[0].wrapped)  # the first distance lies on this face
    for e in chamfer2_edges_2:
        chamfer2.Add(CHAMFER2_SIZE, CHAMFER2_SIZE2, e.wrapped, chamfer2_side_2[0].wrapped)  # the first distance lies on this face
    add(Compound.cast(chamfer2.Shape()), mode=Mode.REPLACE)

    # Sketch9 → Cut-Extrude3 (cut, through all)
    with BuildSketch(Plane(origin=(-41.904757403, -0.357109604, 2.908424331), x_dir=(0.06923400560903198, 0.0005900076719097519, 0.9976002728339021), z_dir=(-0.9975640502598241, -0.008501175653454889, 0.06923651956680364))):
        with Locations(Location((-103.821376482, -766.779055644, 0), (0, 0, 359.966193827))):
            Circle(SKETCH9_R)
    cut_extrude3 = extrude(amount=-CUT_EXTRUDE3_DEPTH, mode=Mode.SUBTRACT)

    # Mirror1: Sweep3, Boss-Extrude3, Boss-Extrude4, Cut-Extrude2, Cut-Extrude3 across plane
    add(sweep3.mirror(Plane.ZX))
    add(boss_extrude3.mirror(Plane.ZX))
    add(boss_extrude4.mirror(Plane.ZX))
    add(cut_extrude2.mirror(Plane.ZX), mode=Mode.SUBTRACT)
    add(cut_extrude3.mirror(Plane.ZX), mode=Mode.SUBTRACT)

    # Fillet2 of Mirror1
    fillet2_of_mirror1_edges = [part.edges().sort_by_distance(p)[0] for p in [
        (-42.244619287, 835.209793586, -104.495346909),
        (42.244619287, 834.489781816, -110.3593722),
    ]]
    fillet(fillet2_of_mirror1_edges, radius=FILLET2_OF_MIRROR1_R)

    # Chamfer2 of Mirror1: one chamfer whose edges measure the first distance from different faces: ONE call of the kernel's chamfer builder (chamfer() names one face for all edges)
    chamfer2_of_mirror1_edges_1 = [part.edges().sort_by_distance(p)[0] for p in [
        (12.5, 701.02153283, -89.627307582),
    ]]
    chamfer2_of_mirror1_side_1 = [part.faces().sort_by_distance(p)[0] for p in [
        (28.75, 701.02153283, -89.627307582),
    ]]
    chamfer2_of_mirror1_edges_2 = [part.edges().sort_by_distance(p)[0] for p in [
        (-12.5, 701.02153283, -89.627307582),
    ]]
    chamfer2_of_mirror1_side_2 = [part.faces().sort_by_distance(p)[0] for p in [
        (-28.75, 701.02153283, -89.627307582),
    ]]
    chamfer2_of_mirror1 = BRepFilletAPI_MakeChamfer(part.part.solid().wrapped)
    for e in chamfer2_of_mirror1_edges_1:
        chamfer2_of_mirror1.Add(CHAMFER2_OF_MIRROR1_SIZE, CHAMFER2_OF_MIRROR1_SIZE2, e.wrapped, chamfer2_of_mirror1_side_1[0].wrapped)  # the first distance lies on this face
    for e in chamfer2_of_mirror1_edges_2:
        chamfer2_of_mirror1.Add(CHAMFER2_OF_MIRROR1_SIZE, CHAMFER2_OF_MIRROR1_SIZE2, e.wrapped, chamfer2_of_mirror1_side_2[0].wrapped)  # the first distance lies on this face
    add(Compound.cast(chamfer2_of_mirror1.Shape()), mode=Mode.REPLACE)

    # Sketch10 → Cut-Extrude4 (cut)
    with BuildSketch(Plane(origin=(2.415518829, 4.20979715, 34.286046382), x_dir=(0.9975640502598243, -0.008501175653454538, -0.06923651956680081), z_dir=(0.06975647374412557, 0.12157247580973786, 0.9901283591011197))):
        with Locations((0.345627789, 801.719045754)):
            Circle(SKETCH10_R)
    extrude(amount=-CUT_EXTRUDE4_DEPTH, mode=Mode.SUBTRACT)

    # Sketch11 → Cut-Extrude5 (cut)
    with BuildSketch(Plane(origin=(2.415518829, -4.20979715, 34.286046382), x_dir=(0.9975640502598243, 0.008501175653454538, -0.06923651956680081), z_dir=(0.06975647374412557, -0.12157247580973786, 0.9901283591011197))):
        with Locations((0.345627789, -801.719045754)):
            Circle(SKETCH11_R)
    extrude(amount=-CUT_EXTRUDE5_DEPTH, mode=Mode.SUBTRACT)


solid = part.part
